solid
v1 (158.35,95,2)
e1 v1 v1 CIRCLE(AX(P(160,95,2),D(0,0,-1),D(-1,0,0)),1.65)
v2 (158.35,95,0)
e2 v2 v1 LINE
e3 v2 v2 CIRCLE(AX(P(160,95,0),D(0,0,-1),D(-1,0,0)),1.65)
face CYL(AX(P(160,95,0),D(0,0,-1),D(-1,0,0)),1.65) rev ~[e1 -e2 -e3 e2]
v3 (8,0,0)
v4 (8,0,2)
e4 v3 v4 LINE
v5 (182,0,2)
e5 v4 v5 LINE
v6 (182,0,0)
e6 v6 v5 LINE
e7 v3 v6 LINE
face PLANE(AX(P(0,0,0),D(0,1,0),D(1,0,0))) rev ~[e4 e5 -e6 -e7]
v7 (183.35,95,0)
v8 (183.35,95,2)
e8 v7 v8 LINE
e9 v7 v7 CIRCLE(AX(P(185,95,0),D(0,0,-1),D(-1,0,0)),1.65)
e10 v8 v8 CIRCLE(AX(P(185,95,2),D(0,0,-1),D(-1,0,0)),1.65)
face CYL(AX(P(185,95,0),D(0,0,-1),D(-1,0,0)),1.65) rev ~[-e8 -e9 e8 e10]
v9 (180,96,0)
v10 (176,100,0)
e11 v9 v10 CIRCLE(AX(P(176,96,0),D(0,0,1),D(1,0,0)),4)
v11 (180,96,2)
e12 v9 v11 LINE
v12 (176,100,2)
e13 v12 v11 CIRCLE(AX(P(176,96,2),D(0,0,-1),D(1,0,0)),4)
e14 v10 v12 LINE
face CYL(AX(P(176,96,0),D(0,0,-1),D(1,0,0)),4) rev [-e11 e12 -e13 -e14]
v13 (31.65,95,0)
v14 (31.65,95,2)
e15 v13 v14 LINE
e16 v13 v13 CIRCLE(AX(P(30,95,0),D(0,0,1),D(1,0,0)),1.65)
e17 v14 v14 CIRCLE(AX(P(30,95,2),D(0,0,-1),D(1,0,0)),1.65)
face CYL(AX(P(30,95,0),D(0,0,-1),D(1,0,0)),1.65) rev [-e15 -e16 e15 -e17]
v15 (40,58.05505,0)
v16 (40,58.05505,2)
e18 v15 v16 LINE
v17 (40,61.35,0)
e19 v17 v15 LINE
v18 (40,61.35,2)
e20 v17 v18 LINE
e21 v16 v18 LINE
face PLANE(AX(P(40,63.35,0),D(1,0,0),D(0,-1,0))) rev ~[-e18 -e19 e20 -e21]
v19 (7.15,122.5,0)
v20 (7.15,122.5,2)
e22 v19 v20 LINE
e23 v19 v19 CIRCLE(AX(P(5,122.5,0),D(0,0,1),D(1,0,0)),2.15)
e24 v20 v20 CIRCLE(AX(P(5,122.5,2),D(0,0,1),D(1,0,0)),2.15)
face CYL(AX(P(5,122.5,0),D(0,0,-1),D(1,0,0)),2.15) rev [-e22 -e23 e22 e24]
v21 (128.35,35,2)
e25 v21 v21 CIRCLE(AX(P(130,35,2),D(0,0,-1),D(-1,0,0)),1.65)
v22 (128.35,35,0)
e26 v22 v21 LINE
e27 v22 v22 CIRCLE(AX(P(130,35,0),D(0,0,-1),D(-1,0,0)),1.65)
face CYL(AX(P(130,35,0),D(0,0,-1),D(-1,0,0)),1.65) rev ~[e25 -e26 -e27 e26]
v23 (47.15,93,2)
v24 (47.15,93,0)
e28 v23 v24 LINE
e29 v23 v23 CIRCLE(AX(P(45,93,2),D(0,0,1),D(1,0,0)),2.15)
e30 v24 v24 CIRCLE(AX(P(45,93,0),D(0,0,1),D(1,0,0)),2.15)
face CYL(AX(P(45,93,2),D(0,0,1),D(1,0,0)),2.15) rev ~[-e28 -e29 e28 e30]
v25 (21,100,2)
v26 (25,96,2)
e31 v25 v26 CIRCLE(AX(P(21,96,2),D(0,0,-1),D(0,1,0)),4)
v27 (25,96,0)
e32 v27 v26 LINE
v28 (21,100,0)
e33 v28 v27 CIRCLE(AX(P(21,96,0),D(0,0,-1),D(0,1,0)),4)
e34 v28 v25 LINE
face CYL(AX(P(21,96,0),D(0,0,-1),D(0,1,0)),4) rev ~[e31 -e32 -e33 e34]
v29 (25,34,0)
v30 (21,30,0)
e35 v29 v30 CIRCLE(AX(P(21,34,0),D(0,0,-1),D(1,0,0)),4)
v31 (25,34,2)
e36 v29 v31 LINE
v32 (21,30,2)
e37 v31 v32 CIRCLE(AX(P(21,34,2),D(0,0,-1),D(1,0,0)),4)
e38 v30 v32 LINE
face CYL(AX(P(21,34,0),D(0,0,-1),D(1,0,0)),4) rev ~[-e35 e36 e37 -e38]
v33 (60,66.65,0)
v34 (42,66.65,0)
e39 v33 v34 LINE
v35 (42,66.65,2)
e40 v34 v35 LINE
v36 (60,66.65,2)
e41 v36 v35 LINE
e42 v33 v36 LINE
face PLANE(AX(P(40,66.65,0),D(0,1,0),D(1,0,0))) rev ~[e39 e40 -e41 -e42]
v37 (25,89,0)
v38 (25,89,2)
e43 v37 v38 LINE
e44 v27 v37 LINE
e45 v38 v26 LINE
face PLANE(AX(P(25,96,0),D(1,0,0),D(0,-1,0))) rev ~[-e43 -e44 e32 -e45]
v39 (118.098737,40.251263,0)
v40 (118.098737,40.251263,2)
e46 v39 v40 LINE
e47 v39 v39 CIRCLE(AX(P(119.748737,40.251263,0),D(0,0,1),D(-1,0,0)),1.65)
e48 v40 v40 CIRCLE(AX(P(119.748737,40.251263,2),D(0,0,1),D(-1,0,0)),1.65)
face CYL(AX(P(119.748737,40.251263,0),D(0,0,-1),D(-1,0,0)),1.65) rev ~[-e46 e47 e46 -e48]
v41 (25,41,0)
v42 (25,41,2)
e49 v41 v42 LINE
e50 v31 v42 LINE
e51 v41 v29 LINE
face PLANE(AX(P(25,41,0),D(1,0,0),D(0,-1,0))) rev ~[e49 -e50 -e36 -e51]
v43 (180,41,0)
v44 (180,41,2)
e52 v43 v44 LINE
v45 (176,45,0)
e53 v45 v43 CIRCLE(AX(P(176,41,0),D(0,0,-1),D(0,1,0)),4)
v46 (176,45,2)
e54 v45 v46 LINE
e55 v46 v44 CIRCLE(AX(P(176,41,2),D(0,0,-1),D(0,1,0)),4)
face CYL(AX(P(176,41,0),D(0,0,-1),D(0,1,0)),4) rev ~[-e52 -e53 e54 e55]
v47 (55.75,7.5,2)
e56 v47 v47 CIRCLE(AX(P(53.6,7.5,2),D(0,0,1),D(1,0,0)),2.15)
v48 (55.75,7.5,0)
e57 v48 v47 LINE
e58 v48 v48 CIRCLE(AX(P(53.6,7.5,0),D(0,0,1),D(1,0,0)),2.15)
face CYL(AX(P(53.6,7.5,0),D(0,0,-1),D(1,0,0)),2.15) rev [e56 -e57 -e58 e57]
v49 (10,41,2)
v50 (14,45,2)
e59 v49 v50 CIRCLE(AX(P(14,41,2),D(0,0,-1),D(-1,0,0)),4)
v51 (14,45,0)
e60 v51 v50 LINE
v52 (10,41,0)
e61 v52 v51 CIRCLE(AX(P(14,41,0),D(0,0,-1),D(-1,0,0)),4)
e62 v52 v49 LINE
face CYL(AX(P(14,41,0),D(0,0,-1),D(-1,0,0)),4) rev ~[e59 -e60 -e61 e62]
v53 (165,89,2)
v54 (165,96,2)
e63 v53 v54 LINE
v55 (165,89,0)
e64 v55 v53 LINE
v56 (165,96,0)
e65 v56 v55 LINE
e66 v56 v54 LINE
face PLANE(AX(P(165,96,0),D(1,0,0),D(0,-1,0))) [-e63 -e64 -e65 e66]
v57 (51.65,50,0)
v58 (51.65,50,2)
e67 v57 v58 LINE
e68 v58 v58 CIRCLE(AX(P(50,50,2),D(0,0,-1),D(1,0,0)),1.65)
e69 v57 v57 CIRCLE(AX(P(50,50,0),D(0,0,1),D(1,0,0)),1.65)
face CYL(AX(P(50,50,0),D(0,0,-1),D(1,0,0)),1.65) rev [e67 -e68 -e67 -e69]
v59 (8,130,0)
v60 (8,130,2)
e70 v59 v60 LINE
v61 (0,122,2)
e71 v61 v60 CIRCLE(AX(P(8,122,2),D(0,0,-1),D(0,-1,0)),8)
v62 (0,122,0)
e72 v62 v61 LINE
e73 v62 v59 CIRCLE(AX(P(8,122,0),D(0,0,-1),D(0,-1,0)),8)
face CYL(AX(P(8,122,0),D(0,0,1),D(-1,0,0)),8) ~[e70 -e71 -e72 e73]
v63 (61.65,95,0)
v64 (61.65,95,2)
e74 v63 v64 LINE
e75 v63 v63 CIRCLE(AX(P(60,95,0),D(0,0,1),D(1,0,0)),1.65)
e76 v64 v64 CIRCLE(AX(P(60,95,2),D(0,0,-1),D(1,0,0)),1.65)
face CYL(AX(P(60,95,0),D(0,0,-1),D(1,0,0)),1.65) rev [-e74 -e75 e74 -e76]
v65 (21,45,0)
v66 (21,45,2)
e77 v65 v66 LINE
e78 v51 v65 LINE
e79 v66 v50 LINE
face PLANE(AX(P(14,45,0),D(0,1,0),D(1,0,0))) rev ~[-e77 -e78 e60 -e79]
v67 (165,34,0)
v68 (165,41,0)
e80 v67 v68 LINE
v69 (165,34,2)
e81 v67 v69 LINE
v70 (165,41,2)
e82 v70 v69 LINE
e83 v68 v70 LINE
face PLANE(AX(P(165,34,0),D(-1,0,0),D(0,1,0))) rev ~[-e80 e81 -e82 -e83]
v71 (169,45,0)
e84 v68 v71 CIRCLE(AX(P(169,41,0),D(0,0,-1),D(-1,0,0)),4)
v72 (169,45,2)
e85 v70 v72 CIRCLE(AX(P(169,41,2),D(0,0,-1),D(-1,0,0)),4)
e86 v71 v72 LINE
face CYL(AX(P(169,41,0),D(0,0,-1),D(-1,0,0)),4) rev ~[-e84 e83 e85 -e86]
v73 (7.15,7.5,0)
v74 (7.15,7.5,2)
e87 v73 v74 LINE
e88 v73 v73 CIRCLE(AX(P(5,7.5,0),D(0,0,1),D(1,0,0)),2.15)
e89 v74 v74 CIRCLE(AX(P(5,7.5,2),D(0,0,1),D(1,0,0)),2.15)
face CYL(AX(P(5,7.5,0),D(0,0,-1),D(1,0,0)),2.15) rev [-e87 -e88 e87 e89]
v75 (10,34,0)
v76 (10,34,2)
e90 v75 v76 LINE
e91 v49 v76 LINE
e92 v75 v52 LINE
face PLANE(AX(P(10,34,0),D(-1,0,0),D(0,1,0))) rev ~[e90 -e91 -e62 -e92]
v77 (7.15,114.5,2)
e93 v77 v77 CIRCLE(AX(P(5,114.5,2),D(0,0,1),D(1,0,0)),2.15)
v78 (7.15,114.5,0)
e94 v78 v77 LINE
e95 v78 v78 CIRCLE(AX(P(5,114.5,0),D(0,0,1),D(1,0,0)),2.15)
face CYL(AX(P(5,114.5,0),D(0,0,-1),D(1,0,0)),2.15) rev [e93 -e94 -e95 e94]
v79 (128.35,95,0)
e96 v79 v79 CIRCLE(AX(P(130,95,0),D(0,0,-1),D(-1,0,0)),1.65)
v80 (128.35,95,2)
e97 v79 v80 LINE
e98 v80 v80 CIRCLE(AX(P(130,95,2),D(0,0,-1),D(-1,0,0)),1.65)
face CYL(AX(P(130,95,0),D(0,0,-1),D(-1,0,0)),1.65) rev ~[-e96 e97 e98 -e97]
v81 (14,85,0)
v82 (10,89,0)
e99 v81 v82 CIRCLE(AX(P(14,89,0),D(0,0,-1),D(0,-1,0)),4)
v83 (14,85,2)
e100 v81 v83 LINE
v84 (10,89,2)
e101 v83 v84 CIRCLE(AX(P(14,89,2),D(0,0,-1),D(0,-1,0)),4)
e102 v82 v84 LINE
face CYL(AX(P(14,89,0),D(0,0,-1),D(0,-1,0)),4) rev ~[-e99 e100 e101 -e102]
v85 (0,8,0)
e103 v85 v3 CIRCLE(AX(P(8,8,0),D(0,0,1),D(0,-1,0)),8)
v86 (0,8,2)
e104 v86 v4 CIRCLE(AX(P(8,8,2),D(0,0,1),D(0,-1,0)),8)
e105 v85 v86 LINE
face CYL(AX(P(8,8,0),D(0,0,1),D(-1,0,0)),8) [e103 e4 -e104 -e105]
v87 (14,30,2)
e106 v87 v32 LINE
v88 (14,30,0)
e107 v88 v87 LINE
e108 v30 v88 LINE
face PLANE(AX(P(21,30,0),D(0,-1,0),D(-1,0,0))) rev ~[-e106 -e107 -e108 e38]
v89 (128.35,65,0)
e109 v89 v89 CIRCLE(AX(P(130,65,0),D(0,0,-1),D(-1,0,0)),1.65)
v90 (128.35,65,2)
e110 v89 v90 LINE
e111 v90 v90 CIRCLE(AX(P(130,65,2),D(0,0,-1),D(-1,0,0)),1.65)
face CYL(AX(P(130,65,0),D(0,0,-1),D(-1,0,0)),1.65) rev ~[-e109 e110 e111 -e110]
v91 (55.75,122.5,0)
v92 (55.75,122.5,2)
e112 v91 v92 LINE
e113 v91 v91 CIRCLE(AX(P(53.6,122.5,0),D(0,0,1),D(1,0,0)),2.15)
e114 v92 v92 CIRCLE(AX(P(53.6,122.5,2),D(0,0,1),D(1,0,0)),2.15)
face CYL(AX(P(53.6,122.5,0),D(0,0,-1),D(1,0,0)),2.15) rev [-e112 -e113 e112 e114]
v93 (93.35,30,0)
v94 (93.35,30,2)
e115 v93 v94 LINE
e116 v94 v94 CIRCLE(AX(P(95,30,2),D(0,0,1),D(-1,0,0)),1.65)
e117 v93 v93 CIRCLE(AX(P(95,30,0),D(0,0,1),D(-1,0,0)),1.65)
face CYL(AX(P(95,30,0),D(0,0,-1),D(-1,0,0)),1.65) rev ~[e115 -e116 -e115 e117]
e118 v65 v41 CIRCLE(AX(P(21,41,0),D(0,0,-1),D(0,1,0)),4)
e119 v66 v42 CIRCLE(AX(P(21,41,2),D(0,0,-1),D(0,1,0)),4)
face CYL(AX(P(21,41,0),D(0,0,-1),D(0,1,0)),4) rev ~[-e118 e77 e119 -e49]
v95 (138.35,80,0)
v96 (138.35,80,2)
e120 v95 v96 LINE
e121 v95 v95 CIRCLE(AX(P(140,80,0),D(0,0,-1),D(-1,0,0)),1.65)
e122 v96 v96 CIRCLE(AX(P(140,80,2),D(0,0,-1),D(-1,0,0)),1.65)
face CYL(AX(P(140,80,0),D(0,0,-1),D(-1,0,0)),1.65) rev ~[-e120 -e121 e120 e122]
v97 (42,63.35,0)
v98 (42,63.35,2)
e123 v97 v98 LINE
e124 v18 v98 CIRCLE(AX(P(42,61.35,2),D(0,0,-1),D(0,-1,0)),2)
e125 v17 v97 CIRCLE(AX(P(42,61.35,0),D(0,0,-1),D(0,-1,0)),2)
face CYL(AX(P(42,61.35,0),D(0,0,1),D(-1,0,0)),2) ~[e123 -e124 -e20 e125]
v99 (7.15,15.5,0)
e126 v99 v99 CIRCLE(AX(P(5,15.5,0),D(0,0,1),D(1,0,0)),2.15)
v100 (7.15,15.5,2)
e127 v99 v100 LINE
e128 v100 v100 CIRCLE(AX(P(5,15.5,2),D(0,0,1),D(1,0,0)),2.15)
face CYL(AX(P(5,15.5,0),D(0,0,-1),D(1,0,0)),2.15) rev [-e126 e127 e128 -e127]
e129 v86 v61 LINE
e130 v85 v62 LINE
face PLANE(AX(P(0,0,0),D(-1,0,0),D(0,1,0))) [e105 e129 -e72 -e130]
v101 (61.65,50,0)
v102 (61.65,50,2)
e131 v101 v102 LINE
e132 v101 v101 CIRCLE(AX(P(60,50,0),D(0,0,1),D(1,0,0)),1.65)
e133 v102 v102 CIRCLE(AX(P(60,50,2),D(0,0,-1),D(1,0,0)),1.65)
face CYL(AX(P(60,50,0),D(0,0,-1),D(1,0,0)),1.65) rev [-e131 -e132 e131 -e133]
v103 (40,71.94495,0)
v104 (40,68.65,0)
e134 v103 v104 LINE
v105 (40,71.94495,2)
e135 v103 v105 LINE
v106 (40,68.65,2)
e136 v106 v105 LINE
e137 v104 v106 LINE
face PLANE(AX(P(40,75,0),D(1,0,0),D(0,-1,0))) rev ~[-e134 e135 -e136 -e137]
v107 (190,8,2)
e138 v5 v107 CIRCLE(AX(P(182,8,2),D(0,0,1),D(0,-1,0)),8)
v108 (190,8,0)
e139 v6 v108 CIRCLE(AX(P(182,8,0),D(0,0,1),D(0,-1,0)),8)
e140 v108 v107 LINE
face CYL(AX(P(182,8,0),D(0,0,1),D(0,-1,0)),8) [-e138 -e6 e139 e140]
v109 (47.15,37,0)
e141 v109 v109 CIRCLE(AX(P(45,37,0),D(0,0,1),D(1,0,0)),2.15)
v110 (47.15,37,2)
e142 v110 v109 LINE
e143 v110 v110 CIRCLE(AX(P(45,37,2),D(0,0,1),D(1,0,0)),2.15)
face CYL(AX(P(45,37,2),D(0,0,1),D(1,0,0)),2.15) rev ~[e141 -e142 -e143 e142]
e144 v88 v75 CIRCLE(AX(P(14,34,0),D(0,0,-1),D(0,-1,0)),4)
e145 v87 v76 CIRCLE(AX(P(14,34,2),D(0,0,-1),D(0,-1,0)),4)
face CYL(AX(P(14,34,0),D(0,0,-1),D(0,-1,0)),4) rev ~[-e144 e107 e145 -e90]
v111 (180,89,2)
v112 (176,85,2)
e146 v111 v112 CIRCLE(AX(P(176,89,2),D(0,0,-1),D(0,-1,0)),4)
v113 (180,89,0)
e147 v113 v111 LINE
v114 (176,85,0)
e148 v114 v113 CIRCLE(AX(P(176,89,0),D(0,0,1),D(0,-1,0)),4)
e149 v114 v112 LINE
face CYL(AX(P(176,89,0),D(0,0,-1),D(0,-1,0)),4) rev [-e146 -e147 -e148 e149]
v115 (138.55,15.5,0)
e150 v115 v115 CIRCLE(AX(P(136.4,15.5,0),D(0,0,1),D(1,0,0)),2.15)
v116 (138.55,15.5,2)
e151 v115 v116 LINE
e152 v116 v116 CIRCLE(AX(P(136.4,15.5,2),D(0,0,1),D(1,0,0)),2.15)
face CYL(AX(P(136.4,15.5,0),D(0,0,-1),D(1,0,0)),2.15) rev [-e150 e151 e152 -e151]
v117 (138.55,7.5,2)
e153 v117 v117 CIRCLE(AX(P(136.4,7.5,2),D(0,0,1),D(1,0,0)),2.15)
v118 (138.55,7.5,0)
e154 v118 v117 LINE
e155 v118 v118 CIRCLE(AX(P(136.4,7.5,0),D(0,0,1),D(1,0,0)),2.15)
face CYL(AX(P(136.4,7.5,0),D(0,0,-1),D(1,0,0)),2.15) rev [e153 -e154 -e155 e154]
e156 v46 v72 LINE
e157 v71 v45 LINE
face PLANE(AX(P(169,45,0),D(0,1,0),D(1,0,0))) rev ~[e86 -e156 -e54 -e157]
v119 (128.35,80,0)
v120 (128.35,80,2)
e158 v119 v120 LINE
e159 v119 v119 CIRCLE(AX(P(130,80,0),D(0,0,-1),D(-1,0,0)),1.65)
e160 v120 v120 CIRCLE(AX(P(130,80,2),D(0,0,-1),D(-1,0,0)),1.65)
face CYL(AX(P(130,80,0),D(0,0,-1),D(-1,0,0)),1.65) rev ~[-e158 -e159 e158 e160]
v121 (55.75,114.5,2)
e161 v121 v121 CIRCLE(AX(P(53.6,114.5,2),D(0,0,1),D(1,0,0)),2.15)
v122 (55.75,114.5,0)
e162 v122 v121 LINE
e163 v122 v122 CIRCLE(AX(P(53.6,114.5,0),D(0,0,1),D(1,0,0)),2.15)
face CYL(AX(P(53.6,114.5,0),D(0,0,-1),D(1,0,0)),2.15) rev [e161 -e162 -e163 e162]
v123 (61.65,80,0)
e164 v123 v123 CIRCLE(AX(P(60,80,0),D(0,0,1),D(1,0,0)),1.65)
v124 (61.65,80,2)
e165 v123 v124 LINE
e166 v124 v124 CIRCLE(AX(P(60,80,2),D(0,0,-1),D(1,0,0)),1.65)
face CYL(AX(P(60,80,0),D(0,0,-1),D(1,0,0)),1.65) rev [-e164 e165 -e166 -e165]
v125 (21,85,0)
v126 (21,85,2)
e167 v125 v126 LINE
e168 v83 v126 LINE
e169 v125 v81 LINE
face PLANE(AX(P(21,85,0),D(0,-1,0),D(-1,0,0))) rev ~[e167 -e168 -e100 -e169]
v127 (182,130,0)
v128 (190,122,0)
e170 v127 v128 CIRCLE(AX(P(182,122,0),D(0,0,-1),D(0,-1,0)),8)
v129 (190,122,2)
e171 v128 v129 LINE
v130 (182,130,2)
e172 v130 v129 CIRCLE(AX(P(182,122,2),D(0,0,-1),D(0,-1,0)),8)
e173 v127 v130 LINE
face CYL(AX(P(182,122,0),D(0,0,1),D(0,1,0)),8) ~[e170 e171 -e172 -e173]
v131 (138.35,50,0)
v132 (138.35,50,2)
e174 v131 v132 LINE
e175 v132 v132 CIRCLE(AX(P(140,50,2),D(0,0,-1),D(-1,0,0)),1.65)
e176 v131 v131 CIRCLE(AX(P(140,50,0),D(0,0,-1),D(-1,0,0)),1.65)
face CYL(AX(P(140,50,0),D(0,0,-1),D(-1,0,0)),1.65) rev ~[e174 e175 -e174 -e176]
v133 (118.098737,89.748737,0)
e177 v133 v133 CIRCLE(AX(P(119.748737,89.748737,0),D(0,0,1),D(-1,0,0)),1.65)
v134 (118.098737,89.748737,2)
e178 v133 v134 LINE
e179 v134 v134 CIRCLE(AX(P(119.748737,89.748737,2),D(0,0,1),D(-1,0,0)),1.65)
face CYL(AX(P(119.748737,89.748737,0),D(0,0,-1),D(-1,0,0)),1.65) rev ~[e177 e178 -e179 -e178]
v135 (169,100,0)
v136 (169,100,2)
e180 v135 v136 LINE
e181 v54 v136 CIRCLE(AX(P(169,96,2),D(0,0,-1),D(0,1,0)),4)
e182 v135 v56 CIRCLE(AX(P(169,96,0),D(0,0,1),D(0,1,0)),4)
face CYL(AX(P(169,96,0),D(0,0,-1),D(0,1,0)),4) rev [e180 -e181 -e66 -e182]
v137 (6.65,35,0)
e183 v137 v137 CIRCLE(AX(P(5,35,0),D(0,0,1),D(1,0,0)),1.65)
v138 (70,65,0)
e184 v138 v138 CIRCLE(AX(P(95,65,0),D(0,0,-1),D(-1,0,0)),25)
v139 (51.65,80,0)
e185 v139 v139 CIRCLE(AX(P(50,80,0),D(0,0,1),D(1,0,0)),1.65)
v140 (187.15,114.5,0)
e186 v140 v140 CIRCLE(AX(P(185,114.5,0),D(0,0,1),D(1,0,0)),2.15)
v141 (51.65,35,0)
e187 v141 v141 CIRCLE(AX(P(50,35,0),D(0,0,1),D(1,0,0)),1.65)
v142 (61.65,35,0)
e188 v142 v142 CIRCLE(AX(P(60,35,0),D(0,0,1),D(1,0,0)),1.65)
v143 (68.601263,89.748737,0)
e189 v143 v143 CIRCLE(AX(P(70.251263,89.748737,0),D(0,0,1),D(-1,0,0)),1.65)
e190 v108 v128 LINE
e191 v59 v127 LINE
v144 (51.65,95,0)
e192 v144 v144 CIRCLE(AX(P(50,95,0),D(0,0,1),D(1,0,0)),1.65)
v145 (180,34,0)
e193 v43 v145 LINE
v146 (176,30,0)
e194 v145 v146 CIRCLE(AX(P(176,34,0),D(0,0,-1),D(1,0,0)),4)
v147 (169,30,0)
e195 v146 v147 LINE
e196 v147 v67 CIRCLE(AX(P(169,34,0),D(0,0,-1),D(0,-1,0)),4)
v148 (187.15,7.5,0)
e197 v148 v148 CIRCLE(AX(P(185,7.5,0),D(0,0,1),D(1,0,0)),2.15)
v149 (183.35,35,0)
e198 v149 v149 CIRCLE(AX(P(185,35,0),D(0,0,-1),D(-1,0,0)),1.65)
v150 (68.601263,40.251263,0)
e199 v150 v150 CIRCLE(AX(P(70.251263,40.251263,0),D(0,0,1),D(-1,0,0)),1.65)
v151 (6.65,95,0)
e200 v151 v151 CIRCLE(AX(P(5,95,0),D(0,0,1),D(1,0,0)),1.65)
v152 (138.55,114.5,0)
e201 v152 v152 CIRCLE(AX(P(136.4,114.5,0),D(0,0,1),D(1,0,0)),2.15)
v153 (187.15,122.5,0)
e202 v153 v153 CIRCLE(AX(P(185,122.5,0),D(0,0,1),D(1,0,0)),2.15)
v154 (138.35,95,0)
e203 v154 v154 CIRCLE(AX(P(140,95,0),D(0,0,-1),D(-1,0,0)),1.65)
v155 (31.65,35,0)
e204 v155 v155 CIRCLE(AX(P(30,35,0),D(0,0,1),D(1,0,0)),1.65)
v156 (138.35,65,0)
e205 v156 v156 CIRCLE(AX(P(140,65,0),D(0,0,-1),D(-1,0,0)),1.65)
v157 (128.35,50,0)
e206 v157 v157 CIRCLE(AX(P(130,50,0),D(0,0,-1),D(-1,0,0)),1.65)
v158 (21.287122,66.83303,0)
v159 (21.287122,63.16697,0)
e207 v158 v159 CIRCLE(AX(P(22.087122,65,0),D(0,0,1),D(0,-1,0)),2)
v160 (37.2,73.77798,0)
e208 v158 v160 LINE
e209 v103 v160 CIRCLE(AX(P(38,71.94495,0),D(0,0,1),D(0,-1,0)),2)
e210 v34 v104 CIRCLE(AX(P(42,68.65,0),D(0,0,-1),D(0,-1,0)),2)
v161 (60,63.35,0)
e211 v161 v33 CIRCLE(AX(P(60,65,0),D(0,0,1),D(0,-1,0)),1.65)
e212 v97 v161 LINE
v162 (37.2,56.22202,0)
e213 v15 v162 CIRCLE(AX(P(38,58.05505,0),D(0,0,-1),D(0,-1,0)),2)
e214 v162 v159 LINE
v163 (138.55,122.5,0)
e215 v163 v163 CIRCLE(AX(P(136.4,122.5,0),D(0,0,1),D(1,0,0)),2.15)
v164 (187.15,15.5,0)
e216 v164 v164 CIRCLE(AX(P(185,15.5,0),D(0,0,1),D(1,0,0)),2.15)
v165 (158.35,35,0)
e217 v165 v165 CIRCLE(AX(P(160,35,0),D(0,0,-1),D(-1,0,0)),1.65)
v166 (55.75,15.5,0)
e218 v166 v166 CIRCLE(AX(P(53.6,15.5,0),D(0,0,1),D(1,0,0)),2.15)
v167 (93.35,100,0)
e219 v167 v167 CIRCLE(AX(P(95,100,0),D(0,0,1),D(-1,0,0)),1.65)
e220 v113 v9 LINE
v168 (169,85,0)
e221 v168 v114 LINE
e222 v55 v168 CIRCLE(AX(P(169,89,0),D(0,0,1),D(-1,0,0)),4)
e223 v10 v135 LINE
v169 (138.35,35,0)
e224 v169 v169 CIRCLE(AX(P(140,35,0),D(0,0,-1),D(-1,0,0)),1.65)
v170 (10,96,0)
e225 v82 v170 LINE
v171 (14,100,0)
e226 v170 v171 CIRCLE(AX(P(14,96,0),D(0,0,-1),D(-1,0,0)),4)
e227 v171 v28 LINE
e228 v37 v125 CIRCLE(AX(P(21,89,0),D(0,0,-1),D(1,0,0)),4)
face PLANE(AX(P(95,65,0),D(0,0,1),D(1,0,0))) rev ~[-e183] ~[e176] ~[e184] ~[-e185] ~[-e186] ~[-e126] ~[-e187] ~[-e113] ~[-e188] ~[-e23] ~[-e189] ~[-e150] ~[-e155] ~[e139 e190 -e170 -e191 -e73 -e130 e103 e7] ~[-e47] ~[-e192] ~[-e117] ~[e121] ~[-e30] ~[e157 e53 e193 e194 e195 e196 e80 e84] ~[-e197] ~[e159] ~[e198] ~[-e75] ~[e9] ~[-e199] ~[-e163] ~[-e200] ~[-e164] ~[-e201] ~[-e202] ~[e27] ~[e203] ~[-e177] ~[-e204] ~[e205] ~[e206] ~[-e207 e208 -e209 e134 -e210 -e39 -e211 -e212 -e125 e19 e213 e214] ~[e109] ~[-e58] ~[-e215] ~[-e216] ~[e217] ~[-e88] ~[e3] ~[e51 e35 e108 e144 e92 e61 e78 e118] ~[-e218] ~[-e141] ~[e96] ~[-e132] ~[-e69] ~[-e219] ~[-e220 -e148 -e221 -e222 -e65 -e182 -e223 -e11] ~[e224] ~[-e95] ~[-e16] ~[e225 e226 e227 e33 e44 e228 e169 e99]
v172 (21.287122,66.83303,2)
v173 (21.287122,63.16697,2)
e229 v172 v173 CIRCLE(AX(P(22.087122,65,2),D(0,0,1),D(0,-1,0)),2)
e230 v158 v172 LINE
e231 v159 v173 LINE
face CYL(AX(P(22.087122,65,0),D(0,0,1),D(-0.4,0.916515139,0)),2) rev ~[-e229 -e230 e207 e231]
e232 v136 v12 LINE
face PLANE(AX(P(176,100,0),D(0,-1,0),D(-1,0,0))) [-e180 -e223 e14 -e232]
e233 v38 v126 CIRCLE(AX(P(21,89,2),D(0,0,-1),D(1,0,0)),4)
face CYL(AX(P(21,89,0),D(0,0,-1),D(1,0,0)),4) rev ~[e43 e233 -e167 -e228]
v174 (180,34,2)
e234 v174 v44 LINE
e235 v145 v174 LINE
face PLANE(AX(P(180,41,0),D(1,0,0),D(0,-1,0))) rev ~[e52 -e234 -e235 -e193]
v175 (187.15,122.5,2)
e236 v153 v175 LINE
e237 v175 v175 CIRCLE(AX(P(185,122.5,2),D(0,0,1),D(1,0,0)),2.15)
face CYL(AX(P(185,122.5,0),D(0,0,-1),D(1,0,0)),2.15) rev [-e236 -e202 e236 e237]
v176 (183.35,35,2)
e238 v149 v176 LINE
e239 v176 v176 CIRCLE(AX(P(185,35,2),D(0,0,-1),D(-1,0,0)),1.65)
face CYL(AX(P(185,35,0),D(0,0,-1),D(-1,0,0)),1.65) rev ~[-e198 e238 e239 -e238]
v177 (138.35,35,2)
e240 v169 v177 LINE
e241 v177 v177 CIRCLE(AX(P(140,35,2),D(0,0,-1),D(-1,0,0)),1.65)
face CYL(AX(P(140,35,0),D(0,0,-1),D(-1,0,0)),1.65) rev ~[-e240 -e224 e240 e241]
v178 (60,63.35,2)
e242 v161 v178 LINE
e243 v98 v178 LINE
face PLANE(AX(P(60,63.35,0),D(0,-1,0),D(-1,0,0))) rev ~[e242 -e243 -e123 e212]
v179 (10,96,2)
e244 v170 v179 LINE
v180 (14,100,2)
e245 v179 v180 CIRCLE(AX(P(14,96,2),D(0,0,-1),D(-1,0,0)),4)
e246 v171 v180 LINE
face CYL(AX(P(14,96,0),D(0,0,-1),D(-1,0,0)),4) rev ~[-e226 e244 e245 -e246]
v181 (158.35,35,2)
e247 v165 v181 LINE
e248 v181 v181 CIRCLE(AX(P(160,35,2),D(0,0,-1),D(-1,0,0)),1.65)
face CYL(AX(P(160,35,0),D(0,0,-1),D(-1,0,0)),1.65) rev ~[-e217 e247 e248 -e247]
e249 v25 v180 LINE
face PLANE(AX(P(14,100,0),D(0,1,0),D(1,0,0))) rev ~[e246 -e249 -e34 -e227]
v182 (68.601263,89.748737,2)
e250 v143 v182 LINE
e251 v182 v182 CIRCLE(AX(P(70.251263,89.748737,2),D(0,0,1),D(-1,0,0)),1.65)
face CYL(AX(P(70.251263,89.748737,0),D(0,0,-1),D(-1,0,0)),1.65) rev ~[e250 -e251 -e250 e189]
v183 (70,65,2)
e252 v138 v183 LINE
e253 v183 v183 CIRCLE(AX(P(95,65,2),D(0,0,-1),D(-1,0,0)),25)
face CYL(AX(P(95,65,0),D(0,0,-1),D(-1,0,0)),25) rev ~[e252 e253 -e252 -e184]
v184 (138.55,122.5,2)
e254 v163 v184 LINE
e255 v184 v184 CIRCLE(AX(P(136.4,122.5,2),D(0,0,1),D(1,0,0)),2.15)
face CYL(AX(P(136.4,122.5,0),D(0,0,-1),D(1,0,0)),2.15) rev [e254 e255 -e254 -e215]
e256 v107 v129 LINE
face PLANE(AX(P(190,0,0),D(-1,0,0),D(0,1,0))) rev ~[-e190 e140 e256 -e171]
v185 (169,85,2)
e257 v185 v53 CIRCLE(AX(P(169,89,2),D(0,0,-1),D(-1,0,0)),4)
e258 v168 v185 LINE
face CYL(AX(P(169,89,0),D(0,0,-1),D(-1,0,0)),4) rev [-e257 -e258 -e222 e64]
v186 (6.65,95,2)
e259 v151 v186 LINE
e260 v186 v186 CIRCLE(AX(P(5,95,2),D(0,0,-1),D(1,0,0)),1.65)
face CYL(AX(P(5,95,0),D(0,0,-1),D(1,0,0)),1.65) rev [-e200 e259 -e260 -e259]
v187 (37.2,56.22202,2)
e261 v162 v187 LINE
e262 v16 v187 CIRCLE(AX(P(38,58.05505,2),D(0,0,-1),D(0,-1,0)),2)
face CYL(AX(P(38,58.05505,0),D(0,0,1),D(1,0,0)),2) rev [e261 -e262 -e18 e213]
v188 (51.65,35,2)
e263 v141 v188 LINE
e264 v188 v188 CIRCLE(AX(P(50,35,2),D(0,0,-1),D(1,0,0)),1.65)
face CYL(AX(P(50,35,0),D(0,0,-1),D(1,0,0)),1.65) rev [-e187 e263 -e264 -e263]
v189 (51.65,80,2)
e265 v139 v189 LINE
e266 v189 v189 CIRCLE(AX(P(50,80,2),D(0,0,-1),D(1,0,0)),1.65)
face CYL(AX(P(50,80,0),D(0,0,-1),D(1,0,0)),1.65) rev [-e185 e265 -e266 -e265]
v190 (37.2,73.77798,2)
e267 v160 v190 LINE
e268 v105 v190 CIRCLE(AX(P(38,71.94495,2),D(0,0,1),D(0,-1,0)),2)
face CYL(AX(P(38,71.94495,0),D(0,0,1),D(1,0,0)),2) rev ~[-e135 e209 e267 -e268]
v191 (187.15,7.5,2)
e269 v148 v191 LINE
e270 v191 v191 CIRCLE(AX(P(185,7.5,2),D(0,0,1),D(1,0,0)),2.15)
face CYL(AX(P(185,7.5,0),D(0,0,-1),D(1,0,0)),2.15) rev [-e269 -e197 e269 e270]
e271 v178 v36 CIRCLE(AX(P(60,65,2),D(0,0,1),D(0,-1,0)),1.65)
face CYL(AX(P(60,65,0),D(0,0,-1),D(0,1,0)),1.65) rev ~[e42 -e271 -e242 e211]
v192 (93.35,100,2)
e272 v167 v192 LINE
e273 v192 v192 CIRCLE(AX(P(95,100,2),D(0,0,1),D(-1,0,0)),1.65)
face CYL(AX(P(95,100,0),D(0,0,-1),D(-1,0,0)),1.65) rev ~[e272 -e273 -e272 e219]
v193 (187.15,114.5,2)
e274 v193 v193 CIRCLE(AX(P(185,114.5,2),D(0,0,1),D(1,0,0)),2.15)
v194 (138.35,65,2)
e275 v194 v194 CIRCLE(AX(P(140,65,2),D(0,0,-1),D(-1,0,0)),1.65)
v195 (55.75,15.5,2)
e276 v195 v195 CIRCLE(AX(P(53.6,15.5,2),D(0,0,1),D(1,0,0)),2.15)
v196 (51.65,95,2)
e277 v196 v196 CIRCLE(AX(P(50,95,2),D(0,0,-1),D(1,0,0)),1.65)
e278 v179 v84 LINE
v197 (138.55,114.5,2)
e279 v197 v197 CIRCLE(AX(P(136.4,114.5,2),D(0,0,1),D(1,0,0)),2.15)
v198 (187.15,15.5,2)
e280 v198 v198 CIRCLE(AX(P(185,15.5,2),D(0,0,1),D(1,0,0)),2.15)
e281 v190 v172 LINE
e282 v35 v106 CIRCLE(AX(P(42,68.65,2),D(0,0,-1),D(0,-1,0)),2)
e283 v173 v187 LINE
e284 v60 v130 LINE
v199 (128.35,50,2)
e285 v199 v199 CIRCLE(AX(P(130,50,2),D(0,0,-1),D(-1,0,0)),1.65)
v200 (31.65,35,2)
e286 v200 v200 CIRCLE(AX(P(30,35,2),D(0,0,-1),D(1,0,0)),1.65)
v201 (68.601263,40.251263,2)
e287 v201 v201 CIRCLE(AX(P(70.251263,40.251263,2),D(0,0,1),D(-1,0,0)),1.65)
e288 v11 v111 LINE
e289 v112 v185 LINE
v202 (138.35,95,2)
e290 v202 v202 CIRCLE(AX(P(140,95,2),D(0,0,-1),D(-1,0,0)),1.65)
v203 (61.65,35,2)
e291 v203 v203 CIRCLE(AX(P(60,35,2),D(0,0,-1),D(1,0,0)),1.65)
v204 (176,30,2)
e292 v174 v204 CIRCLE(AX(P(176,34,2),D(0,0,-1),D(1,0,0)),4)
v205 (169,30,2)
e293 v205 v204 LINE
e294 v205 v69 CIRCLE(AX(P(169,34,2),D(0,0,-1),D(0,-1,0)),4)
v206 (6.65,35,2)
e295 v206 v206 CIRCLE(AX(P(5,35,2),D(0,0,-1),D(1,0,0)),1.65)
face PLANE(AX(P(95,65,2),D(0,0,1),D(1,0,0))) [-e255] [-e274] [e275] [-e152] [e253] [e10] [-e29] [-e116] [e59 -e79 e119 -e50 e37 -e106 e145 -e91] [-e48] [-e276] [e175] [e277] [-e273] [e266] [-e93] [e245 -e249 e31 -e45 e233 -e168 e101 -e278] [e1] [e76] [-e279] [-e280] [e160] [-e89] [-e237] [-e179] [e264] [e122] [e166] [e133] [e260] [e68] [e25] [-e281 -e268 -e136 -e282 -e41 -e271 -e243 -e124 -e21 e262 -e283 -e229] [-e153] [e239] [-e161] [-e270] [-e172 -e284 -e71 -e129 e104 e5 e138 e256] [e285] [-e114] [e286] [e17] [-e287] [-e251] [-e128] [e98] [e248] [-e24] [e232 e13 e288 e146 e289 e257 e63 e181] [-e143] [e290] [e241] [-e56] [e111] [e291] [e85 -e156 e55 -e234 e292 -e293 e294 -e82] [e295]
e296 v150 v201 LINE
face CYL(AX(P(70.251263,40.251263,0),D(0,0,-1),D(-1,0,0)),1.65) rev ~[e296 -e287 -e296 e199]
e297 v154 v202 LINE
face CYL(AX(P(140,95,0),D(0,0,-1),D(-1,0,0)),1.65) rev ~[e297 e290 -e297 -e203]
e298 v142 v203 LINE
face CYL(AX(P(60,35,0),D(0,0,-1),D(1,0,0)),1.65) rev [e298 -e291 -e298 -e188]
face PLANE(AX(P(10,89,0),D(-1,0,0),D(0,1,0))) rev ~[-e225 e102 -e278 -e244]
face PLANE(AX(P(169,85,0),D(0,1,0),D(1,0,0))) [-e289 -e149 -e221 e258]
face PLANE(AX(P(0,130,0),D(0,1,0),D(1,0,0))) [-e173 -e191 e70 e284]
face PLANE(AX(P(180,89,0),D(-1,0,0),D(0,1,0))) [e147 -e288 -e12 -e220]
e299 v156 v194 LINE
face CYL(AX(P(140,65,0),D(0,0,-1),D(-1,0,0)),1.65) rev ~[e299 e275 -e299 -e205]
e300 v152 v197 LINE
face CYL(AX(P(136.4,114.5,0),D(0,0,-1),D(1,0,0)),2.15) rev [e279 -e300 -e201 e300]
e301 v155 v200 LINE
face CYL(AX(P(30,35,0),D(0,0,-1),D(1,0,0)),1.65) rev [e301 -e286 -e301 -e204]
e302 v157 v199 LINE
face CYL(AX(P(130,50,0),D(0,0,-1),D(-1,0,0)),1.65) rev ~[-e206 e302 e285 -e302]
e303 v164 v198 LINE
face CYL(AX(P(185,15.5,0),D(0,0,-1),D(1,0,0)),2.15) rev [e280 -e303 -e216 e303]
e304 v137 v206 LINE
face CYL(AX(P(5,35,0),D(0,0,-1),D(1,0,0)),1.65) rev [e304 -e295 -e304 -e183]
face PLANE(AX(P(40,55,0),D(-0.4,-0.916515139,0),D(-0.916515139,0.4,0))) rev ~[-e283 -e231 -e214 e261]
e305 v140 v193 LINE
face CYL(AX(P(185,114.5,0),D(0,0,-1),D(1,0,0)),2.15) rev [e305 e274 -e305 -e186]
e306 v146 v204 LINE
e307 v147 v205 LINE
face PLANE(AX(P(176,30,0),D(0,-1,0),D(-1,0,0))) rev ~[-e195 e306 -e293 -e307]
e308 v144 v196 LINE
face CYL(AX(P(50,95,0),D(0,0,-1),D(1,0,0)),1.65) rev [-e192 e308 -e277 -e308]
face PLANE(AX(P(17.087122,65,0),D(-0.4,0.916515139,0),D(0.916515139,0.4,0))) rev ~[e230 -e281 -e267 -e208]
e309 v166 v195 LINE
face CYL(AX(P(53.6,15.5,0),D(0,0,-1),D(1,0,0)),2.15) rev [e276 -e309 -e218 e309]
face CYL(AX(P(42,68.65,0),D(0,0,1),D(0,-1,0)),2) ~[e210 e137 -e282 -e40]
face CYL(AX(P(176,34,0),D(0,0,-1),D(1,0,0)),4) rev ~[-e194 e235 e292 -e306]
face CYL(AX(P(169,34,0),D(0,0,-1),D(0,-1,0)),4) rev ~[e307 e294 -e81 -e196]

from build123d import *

# Parameters (mm, degrees)
SKETCH_1_W          = 190
SKETCH_1_H          = 130
SKETCH_1_R          = 2.15
EXTRUDE_1_DEPTH     = 2
FILLET_1_R          = 8
SKETCH_2_R          = 25
CUT_EXTRUDE_1_DEPTH = 10
CUT_EXTRUDE_2_DEPTH = 10
FILLET_2_R          = 2
SKETCH_5_R          = 1.65
CUT_EXTRUDE_5_DEPTH = 3.3
SKETCH_6_R          = 1.65
CUT_EXTRUDE_6_DEPTH = 3.3
SKETCH_7_R          = 2.15
CUT_EXTRUDE_7_DEPTH = 3.3


with BuildPart() as part:
    # 草图1 → 凸台-拉伸1 (new body)
    with BuildSketch(Plane.XY):
        with Locations((95, 65)):
            Rectangle(SKETCH_1_W, SKETCH_1_H)
        with Locations((136.4, 7.5)):
            Circle(SKETCH_1_R, mode=Mode.SUBTRACT)
        with Locations((185, 15.5)):
            Circle(SKETCH_1_R, mode=Mode.SUBTRACT)
        with Locations((185, 114.5)):
            Circle(SKETCH_1_R, mode=Mode.SUBTRACT)
        with Locations((136.4, 114.5)):
            Circle(SKETCH_1_R, mode=Mode.SUBTRACT)
        with Locations((136.4, 122.5)):
            Circle(SKETCH_1_R, mode=Mode.SUBTRACT)
        with Locations((185, 122.5)):
            Circle(SKETCH_1_R, mode=Mode.SUBTRACT)
        with Locations((5, 122.5)):
            Circle(SKETCH_1_R, mode=Mode.SUBTRACT)
        with Locations((5, 114.5)):
            Circle(SKETCH_1_R, mode=Mode.SUBTRACT)
        with Locations((5, 15.5)):
            Circle(SKETCH_1_R, mode=Mode.SUBTRACT)
        with Locations((53.6, 15.5)):
            Circle(SKETCH_1_R, mode=Mode.SUBTRACT)
        with Locations((53.6, 7.5)):
            Circle(SKETCH_1_R, mode=Mode.SUBTRACT)
        with Locations((5, 7.5)):
            Circle(SKETCH_1_R, mode=Mode.SUBTRACT)
        with Locations((53.6, 122.5)):
            Circle(SKETCH_1_R, mode=Mode.SUBTRACT)
        with Locations((53.6, 114.5)):
            Circle(SKETCH_1_R, mode=Mode.SUBTRACT)
        with Locations((185, 7.5)):
            Circle(SKETCH_1_R, mode=Mode.SUBTRACT)
        with Locations((136.4, 15.5)):
            Circle(SKETCH_1_R, mode=Mode.SUBTRACT)
    extrude(amount=EXTRUDE_1_DEPTH)

    # 圆角1
    fillet_1_edges = [part.edges().sort_by_distance(p)[0] for p in [
        (0, 0, 1),
        (0, 130, 1),
        (190, 130, 1),
        (190, 0, 1),
    ]]
    fillet(fillet_1_edges, radius=FILLET_1_R)

    # 草图2 → 切除-拉伸1 (cut)
    with BuildSketch(Plane(origin=(0, 0, 0), x_dir=(-1, 0, 0), z_dir=(0, 0, -1))):
        with Locations((-95, 65)):
            Circle(SKETCH_2_R)
        with BuildLine():
            Line((-21, 85), (-14, 85))
            ThreePointArc((-14, 85), (-11.171572875, 86.171572875), (-10, 89))
            Line((-10, 89), (-10, 96))
            ThreePointArc((-10, 96), (-11.171572875, 98.828427125), (-14, 100))
            Line((-14, 100), (-21, 100))
            ThreePointArc((-21, 100), (-23.828427125, 98.828427125), (-25, 96))
            Line((-25, 96), (-25, 89))
            ThreePointArc((-25, 89), (-23.828427125, 86.171572875), (-21, 85))
        make_face()
        with BuildLine():
            Line((-21, 30), (-14, 30))
            ThreePointArc((-14, 30), (-11.171572875, 31.171572875), (-10, 34))
            Line((-10, 34), (-10, 41))
            ThreePointArc((-10, 41), (-11.171572875, 43.828427125), (-14, 45))
            Line((-14, 45), (-21, 45))
            ThreePointArc((-21, 45), (-23.828427125, 43.828427125), (-25, 41))
            Line((-25, 41), (-25, 34))
            ThreePointArc((-25, 34), (-23.828427125, 31.171572875), (-21, 30))
        make_face()
        with BuildLine():
            Line((-165, 96), (-165, 89))
            ThreePointArc((-165, 89), (-166.171572875, 86.171572875), (-169, 85))
            Line((-169, 85), (-176, 85))
            ThreePointArc((-176, 85), (-178.828427125, 86.171572875), (-180, 89))
            Line((-180, 89), (-180, 96))
            ThreePointArc((-180, 96), (-178.828427125, 98.828427125), (-176, 100))
            Line((-176, 100), (-169, 100))
            ThreePointArc((-169, 100), (-166.171572875, 98.828427125), (-165, 96))
        make_face()
        with BuildLine():
            Line((-169, 45), (-176, 45))
            ThreePointArc((-176, 45), (-178.828427125, 43.828427125), (-180, 41))
            Line((-180, 41), (-180, 34))
            ThreePointArc((-180, 34), (-178.828427125, 31.171572875), (-176, 30))
            Line((-176, 30), (-169, 30))
            ThreePointArc((-169, 30), (-166.171572875, 31.171572875), (-165, 34))
            Line((-165, 34), (-165, 41))
            ThreePointArc((-165, 41), (-166.171572875, 43.828427125), (-169, 45))
        make_face()
    extrude(amount=-CUT_EXTRUDE_1_DEPTH, mode=Mode.SUBTRACT)

    # 草图4 → 切除-拉伸2 (cut)
    with BuildSketch(Plane(origin=(0, 0, 0), x_dir=(-1, 0, 0), z_dir=(0, 0, -1))):
        with BuildLine():
            Line((-40, 55), (-17.087121525, 65))
            Line((-17.087121525, 65), (-40, 75))
            Line((-40, 75), (-40, 66.65))
            Line((-40, 66.65), (-60, 66.65))
            ThreePointArc((-60, 66.65), (-61.65, 65), (-60, 63.35))
            Line((-60, 63.35), (-40, 63.35))
            Line((-40, 63.35), (-40, 55))
        make_face()
    extrude(amount=-CUT_EXTRUDE_2_DEPTH, mode=Mode.SUBTRACT)

    # 圆角2
    fillet_2_edges = [part.edges().sort_by_distance(p)[0] for p in [
        (40, 66.65, 1),
        (40, 75, 1),
        (17.087121525, 65, 1),
        (40, 55, 1),
        (40, 63.35, 1),
    ]]
    fillet(fillet_2_edges, radius=FILLET_2_R)

    # 草图5 → 切除-拉伸5 (cut)
    with BuildSketch(Plane(origin=(0, 0, 0), x_dir=(-1, 0, 0), z_dir=(0, 0, -1))):
        with Locations((-160, 35)):
            Circle(SKETCH_5_R)
        with Locations((-185, 95)):
            Circle(SKETCH_5_R)
        with Locations((-185, 35)):
            Circle(SKETCH_5_R)
        with Locations((-160, 95)):
            Circle(SKETCH_5_R)
    cut_extrude_5 = extrude(amount=-CUT_EXTRUDE_5_DEPTH, mode=Mode.SUBTRACT)

    # 草图6 → 切除-拉伸6 (cut)
    with BuildSketch(Plane(origin=(0, 0, 0), x_dir=(-1, 0, 0), z_dir=(0, 0, -1))):
        with Locations((-140, 35)):
            Circle(SKETCH_6_R)
        with Locations((-130, 35)):
            Circle(SKETCH_6_R)
        with Locations((-130, 50)):
            Circle(SKETCH_6_R)
        with Locations((-130, 65)):
            Circle(SKETCH_6_R)
        with Locations((-130, 80)):
            Circle(SKETCH_6_R)
        with Locations((-130, 95)):
            Circle(SKETCH_6_R)
        with Locations((-140, 50)):
            Circle(SKETCH_6_R)
        with Locations((-140, 65)):
            Circle(SKETCH_6_R)
        with Locations((-140, 80)):
            Circle(SKETCH_6_R)
        with Locations((-140, 95)):
            Circle(SKETCH_6_R)
        with Locations((-95, 30)):
            Circle(SKETCH_6_R)
        with Locations((-119.748737342, 40.251262658)):
            Circle(SKETCH_6_R)
        with Locations((-119.748737342, 89.748737342)):
            Circle(SKETCH_6_R)
        with Locations((-95, 100)):
            Circle(SKETCH_6_R)
        with Locations((-70.251262658, 89.748737342)):
            Circle(SKETCH_6_R)
        with Locations((-70.251262658, 40.251262658)):
            Circle(SKETCH_6_R)
    cut_extrude_6 = extrude(amount=-CUT_EXTRUDE_6_DEPTH, mode=Mode.SUBTRACT)

    # 镜向1: 切除-拉伸6 across plane
    add(cut_extrude_6.mirror(Plane.ZY.offset(-95)), mode=Mode.SUBTRACT)

    # 镜向2: 切除-拉伸5 across plane
    add(cut_extrude_5.mirror(Plane.ZY.offset(-95)), mode=Mode.SUBTRACT)

    # 草图7 → 切除-拉伸7 (cut)
    with BuildSketch(Plane.XY.offset(2)):
        with Locations((45, 37)):
            Circle(SKETCH_7_R)
        with Locations((45, 93)):
            Circle(SKETCH_7_R)
    extrude(amount=-CUT_EXTRUDE_7_DEPTH, mode=Mode.SUBTRACT)


solid = part.part
